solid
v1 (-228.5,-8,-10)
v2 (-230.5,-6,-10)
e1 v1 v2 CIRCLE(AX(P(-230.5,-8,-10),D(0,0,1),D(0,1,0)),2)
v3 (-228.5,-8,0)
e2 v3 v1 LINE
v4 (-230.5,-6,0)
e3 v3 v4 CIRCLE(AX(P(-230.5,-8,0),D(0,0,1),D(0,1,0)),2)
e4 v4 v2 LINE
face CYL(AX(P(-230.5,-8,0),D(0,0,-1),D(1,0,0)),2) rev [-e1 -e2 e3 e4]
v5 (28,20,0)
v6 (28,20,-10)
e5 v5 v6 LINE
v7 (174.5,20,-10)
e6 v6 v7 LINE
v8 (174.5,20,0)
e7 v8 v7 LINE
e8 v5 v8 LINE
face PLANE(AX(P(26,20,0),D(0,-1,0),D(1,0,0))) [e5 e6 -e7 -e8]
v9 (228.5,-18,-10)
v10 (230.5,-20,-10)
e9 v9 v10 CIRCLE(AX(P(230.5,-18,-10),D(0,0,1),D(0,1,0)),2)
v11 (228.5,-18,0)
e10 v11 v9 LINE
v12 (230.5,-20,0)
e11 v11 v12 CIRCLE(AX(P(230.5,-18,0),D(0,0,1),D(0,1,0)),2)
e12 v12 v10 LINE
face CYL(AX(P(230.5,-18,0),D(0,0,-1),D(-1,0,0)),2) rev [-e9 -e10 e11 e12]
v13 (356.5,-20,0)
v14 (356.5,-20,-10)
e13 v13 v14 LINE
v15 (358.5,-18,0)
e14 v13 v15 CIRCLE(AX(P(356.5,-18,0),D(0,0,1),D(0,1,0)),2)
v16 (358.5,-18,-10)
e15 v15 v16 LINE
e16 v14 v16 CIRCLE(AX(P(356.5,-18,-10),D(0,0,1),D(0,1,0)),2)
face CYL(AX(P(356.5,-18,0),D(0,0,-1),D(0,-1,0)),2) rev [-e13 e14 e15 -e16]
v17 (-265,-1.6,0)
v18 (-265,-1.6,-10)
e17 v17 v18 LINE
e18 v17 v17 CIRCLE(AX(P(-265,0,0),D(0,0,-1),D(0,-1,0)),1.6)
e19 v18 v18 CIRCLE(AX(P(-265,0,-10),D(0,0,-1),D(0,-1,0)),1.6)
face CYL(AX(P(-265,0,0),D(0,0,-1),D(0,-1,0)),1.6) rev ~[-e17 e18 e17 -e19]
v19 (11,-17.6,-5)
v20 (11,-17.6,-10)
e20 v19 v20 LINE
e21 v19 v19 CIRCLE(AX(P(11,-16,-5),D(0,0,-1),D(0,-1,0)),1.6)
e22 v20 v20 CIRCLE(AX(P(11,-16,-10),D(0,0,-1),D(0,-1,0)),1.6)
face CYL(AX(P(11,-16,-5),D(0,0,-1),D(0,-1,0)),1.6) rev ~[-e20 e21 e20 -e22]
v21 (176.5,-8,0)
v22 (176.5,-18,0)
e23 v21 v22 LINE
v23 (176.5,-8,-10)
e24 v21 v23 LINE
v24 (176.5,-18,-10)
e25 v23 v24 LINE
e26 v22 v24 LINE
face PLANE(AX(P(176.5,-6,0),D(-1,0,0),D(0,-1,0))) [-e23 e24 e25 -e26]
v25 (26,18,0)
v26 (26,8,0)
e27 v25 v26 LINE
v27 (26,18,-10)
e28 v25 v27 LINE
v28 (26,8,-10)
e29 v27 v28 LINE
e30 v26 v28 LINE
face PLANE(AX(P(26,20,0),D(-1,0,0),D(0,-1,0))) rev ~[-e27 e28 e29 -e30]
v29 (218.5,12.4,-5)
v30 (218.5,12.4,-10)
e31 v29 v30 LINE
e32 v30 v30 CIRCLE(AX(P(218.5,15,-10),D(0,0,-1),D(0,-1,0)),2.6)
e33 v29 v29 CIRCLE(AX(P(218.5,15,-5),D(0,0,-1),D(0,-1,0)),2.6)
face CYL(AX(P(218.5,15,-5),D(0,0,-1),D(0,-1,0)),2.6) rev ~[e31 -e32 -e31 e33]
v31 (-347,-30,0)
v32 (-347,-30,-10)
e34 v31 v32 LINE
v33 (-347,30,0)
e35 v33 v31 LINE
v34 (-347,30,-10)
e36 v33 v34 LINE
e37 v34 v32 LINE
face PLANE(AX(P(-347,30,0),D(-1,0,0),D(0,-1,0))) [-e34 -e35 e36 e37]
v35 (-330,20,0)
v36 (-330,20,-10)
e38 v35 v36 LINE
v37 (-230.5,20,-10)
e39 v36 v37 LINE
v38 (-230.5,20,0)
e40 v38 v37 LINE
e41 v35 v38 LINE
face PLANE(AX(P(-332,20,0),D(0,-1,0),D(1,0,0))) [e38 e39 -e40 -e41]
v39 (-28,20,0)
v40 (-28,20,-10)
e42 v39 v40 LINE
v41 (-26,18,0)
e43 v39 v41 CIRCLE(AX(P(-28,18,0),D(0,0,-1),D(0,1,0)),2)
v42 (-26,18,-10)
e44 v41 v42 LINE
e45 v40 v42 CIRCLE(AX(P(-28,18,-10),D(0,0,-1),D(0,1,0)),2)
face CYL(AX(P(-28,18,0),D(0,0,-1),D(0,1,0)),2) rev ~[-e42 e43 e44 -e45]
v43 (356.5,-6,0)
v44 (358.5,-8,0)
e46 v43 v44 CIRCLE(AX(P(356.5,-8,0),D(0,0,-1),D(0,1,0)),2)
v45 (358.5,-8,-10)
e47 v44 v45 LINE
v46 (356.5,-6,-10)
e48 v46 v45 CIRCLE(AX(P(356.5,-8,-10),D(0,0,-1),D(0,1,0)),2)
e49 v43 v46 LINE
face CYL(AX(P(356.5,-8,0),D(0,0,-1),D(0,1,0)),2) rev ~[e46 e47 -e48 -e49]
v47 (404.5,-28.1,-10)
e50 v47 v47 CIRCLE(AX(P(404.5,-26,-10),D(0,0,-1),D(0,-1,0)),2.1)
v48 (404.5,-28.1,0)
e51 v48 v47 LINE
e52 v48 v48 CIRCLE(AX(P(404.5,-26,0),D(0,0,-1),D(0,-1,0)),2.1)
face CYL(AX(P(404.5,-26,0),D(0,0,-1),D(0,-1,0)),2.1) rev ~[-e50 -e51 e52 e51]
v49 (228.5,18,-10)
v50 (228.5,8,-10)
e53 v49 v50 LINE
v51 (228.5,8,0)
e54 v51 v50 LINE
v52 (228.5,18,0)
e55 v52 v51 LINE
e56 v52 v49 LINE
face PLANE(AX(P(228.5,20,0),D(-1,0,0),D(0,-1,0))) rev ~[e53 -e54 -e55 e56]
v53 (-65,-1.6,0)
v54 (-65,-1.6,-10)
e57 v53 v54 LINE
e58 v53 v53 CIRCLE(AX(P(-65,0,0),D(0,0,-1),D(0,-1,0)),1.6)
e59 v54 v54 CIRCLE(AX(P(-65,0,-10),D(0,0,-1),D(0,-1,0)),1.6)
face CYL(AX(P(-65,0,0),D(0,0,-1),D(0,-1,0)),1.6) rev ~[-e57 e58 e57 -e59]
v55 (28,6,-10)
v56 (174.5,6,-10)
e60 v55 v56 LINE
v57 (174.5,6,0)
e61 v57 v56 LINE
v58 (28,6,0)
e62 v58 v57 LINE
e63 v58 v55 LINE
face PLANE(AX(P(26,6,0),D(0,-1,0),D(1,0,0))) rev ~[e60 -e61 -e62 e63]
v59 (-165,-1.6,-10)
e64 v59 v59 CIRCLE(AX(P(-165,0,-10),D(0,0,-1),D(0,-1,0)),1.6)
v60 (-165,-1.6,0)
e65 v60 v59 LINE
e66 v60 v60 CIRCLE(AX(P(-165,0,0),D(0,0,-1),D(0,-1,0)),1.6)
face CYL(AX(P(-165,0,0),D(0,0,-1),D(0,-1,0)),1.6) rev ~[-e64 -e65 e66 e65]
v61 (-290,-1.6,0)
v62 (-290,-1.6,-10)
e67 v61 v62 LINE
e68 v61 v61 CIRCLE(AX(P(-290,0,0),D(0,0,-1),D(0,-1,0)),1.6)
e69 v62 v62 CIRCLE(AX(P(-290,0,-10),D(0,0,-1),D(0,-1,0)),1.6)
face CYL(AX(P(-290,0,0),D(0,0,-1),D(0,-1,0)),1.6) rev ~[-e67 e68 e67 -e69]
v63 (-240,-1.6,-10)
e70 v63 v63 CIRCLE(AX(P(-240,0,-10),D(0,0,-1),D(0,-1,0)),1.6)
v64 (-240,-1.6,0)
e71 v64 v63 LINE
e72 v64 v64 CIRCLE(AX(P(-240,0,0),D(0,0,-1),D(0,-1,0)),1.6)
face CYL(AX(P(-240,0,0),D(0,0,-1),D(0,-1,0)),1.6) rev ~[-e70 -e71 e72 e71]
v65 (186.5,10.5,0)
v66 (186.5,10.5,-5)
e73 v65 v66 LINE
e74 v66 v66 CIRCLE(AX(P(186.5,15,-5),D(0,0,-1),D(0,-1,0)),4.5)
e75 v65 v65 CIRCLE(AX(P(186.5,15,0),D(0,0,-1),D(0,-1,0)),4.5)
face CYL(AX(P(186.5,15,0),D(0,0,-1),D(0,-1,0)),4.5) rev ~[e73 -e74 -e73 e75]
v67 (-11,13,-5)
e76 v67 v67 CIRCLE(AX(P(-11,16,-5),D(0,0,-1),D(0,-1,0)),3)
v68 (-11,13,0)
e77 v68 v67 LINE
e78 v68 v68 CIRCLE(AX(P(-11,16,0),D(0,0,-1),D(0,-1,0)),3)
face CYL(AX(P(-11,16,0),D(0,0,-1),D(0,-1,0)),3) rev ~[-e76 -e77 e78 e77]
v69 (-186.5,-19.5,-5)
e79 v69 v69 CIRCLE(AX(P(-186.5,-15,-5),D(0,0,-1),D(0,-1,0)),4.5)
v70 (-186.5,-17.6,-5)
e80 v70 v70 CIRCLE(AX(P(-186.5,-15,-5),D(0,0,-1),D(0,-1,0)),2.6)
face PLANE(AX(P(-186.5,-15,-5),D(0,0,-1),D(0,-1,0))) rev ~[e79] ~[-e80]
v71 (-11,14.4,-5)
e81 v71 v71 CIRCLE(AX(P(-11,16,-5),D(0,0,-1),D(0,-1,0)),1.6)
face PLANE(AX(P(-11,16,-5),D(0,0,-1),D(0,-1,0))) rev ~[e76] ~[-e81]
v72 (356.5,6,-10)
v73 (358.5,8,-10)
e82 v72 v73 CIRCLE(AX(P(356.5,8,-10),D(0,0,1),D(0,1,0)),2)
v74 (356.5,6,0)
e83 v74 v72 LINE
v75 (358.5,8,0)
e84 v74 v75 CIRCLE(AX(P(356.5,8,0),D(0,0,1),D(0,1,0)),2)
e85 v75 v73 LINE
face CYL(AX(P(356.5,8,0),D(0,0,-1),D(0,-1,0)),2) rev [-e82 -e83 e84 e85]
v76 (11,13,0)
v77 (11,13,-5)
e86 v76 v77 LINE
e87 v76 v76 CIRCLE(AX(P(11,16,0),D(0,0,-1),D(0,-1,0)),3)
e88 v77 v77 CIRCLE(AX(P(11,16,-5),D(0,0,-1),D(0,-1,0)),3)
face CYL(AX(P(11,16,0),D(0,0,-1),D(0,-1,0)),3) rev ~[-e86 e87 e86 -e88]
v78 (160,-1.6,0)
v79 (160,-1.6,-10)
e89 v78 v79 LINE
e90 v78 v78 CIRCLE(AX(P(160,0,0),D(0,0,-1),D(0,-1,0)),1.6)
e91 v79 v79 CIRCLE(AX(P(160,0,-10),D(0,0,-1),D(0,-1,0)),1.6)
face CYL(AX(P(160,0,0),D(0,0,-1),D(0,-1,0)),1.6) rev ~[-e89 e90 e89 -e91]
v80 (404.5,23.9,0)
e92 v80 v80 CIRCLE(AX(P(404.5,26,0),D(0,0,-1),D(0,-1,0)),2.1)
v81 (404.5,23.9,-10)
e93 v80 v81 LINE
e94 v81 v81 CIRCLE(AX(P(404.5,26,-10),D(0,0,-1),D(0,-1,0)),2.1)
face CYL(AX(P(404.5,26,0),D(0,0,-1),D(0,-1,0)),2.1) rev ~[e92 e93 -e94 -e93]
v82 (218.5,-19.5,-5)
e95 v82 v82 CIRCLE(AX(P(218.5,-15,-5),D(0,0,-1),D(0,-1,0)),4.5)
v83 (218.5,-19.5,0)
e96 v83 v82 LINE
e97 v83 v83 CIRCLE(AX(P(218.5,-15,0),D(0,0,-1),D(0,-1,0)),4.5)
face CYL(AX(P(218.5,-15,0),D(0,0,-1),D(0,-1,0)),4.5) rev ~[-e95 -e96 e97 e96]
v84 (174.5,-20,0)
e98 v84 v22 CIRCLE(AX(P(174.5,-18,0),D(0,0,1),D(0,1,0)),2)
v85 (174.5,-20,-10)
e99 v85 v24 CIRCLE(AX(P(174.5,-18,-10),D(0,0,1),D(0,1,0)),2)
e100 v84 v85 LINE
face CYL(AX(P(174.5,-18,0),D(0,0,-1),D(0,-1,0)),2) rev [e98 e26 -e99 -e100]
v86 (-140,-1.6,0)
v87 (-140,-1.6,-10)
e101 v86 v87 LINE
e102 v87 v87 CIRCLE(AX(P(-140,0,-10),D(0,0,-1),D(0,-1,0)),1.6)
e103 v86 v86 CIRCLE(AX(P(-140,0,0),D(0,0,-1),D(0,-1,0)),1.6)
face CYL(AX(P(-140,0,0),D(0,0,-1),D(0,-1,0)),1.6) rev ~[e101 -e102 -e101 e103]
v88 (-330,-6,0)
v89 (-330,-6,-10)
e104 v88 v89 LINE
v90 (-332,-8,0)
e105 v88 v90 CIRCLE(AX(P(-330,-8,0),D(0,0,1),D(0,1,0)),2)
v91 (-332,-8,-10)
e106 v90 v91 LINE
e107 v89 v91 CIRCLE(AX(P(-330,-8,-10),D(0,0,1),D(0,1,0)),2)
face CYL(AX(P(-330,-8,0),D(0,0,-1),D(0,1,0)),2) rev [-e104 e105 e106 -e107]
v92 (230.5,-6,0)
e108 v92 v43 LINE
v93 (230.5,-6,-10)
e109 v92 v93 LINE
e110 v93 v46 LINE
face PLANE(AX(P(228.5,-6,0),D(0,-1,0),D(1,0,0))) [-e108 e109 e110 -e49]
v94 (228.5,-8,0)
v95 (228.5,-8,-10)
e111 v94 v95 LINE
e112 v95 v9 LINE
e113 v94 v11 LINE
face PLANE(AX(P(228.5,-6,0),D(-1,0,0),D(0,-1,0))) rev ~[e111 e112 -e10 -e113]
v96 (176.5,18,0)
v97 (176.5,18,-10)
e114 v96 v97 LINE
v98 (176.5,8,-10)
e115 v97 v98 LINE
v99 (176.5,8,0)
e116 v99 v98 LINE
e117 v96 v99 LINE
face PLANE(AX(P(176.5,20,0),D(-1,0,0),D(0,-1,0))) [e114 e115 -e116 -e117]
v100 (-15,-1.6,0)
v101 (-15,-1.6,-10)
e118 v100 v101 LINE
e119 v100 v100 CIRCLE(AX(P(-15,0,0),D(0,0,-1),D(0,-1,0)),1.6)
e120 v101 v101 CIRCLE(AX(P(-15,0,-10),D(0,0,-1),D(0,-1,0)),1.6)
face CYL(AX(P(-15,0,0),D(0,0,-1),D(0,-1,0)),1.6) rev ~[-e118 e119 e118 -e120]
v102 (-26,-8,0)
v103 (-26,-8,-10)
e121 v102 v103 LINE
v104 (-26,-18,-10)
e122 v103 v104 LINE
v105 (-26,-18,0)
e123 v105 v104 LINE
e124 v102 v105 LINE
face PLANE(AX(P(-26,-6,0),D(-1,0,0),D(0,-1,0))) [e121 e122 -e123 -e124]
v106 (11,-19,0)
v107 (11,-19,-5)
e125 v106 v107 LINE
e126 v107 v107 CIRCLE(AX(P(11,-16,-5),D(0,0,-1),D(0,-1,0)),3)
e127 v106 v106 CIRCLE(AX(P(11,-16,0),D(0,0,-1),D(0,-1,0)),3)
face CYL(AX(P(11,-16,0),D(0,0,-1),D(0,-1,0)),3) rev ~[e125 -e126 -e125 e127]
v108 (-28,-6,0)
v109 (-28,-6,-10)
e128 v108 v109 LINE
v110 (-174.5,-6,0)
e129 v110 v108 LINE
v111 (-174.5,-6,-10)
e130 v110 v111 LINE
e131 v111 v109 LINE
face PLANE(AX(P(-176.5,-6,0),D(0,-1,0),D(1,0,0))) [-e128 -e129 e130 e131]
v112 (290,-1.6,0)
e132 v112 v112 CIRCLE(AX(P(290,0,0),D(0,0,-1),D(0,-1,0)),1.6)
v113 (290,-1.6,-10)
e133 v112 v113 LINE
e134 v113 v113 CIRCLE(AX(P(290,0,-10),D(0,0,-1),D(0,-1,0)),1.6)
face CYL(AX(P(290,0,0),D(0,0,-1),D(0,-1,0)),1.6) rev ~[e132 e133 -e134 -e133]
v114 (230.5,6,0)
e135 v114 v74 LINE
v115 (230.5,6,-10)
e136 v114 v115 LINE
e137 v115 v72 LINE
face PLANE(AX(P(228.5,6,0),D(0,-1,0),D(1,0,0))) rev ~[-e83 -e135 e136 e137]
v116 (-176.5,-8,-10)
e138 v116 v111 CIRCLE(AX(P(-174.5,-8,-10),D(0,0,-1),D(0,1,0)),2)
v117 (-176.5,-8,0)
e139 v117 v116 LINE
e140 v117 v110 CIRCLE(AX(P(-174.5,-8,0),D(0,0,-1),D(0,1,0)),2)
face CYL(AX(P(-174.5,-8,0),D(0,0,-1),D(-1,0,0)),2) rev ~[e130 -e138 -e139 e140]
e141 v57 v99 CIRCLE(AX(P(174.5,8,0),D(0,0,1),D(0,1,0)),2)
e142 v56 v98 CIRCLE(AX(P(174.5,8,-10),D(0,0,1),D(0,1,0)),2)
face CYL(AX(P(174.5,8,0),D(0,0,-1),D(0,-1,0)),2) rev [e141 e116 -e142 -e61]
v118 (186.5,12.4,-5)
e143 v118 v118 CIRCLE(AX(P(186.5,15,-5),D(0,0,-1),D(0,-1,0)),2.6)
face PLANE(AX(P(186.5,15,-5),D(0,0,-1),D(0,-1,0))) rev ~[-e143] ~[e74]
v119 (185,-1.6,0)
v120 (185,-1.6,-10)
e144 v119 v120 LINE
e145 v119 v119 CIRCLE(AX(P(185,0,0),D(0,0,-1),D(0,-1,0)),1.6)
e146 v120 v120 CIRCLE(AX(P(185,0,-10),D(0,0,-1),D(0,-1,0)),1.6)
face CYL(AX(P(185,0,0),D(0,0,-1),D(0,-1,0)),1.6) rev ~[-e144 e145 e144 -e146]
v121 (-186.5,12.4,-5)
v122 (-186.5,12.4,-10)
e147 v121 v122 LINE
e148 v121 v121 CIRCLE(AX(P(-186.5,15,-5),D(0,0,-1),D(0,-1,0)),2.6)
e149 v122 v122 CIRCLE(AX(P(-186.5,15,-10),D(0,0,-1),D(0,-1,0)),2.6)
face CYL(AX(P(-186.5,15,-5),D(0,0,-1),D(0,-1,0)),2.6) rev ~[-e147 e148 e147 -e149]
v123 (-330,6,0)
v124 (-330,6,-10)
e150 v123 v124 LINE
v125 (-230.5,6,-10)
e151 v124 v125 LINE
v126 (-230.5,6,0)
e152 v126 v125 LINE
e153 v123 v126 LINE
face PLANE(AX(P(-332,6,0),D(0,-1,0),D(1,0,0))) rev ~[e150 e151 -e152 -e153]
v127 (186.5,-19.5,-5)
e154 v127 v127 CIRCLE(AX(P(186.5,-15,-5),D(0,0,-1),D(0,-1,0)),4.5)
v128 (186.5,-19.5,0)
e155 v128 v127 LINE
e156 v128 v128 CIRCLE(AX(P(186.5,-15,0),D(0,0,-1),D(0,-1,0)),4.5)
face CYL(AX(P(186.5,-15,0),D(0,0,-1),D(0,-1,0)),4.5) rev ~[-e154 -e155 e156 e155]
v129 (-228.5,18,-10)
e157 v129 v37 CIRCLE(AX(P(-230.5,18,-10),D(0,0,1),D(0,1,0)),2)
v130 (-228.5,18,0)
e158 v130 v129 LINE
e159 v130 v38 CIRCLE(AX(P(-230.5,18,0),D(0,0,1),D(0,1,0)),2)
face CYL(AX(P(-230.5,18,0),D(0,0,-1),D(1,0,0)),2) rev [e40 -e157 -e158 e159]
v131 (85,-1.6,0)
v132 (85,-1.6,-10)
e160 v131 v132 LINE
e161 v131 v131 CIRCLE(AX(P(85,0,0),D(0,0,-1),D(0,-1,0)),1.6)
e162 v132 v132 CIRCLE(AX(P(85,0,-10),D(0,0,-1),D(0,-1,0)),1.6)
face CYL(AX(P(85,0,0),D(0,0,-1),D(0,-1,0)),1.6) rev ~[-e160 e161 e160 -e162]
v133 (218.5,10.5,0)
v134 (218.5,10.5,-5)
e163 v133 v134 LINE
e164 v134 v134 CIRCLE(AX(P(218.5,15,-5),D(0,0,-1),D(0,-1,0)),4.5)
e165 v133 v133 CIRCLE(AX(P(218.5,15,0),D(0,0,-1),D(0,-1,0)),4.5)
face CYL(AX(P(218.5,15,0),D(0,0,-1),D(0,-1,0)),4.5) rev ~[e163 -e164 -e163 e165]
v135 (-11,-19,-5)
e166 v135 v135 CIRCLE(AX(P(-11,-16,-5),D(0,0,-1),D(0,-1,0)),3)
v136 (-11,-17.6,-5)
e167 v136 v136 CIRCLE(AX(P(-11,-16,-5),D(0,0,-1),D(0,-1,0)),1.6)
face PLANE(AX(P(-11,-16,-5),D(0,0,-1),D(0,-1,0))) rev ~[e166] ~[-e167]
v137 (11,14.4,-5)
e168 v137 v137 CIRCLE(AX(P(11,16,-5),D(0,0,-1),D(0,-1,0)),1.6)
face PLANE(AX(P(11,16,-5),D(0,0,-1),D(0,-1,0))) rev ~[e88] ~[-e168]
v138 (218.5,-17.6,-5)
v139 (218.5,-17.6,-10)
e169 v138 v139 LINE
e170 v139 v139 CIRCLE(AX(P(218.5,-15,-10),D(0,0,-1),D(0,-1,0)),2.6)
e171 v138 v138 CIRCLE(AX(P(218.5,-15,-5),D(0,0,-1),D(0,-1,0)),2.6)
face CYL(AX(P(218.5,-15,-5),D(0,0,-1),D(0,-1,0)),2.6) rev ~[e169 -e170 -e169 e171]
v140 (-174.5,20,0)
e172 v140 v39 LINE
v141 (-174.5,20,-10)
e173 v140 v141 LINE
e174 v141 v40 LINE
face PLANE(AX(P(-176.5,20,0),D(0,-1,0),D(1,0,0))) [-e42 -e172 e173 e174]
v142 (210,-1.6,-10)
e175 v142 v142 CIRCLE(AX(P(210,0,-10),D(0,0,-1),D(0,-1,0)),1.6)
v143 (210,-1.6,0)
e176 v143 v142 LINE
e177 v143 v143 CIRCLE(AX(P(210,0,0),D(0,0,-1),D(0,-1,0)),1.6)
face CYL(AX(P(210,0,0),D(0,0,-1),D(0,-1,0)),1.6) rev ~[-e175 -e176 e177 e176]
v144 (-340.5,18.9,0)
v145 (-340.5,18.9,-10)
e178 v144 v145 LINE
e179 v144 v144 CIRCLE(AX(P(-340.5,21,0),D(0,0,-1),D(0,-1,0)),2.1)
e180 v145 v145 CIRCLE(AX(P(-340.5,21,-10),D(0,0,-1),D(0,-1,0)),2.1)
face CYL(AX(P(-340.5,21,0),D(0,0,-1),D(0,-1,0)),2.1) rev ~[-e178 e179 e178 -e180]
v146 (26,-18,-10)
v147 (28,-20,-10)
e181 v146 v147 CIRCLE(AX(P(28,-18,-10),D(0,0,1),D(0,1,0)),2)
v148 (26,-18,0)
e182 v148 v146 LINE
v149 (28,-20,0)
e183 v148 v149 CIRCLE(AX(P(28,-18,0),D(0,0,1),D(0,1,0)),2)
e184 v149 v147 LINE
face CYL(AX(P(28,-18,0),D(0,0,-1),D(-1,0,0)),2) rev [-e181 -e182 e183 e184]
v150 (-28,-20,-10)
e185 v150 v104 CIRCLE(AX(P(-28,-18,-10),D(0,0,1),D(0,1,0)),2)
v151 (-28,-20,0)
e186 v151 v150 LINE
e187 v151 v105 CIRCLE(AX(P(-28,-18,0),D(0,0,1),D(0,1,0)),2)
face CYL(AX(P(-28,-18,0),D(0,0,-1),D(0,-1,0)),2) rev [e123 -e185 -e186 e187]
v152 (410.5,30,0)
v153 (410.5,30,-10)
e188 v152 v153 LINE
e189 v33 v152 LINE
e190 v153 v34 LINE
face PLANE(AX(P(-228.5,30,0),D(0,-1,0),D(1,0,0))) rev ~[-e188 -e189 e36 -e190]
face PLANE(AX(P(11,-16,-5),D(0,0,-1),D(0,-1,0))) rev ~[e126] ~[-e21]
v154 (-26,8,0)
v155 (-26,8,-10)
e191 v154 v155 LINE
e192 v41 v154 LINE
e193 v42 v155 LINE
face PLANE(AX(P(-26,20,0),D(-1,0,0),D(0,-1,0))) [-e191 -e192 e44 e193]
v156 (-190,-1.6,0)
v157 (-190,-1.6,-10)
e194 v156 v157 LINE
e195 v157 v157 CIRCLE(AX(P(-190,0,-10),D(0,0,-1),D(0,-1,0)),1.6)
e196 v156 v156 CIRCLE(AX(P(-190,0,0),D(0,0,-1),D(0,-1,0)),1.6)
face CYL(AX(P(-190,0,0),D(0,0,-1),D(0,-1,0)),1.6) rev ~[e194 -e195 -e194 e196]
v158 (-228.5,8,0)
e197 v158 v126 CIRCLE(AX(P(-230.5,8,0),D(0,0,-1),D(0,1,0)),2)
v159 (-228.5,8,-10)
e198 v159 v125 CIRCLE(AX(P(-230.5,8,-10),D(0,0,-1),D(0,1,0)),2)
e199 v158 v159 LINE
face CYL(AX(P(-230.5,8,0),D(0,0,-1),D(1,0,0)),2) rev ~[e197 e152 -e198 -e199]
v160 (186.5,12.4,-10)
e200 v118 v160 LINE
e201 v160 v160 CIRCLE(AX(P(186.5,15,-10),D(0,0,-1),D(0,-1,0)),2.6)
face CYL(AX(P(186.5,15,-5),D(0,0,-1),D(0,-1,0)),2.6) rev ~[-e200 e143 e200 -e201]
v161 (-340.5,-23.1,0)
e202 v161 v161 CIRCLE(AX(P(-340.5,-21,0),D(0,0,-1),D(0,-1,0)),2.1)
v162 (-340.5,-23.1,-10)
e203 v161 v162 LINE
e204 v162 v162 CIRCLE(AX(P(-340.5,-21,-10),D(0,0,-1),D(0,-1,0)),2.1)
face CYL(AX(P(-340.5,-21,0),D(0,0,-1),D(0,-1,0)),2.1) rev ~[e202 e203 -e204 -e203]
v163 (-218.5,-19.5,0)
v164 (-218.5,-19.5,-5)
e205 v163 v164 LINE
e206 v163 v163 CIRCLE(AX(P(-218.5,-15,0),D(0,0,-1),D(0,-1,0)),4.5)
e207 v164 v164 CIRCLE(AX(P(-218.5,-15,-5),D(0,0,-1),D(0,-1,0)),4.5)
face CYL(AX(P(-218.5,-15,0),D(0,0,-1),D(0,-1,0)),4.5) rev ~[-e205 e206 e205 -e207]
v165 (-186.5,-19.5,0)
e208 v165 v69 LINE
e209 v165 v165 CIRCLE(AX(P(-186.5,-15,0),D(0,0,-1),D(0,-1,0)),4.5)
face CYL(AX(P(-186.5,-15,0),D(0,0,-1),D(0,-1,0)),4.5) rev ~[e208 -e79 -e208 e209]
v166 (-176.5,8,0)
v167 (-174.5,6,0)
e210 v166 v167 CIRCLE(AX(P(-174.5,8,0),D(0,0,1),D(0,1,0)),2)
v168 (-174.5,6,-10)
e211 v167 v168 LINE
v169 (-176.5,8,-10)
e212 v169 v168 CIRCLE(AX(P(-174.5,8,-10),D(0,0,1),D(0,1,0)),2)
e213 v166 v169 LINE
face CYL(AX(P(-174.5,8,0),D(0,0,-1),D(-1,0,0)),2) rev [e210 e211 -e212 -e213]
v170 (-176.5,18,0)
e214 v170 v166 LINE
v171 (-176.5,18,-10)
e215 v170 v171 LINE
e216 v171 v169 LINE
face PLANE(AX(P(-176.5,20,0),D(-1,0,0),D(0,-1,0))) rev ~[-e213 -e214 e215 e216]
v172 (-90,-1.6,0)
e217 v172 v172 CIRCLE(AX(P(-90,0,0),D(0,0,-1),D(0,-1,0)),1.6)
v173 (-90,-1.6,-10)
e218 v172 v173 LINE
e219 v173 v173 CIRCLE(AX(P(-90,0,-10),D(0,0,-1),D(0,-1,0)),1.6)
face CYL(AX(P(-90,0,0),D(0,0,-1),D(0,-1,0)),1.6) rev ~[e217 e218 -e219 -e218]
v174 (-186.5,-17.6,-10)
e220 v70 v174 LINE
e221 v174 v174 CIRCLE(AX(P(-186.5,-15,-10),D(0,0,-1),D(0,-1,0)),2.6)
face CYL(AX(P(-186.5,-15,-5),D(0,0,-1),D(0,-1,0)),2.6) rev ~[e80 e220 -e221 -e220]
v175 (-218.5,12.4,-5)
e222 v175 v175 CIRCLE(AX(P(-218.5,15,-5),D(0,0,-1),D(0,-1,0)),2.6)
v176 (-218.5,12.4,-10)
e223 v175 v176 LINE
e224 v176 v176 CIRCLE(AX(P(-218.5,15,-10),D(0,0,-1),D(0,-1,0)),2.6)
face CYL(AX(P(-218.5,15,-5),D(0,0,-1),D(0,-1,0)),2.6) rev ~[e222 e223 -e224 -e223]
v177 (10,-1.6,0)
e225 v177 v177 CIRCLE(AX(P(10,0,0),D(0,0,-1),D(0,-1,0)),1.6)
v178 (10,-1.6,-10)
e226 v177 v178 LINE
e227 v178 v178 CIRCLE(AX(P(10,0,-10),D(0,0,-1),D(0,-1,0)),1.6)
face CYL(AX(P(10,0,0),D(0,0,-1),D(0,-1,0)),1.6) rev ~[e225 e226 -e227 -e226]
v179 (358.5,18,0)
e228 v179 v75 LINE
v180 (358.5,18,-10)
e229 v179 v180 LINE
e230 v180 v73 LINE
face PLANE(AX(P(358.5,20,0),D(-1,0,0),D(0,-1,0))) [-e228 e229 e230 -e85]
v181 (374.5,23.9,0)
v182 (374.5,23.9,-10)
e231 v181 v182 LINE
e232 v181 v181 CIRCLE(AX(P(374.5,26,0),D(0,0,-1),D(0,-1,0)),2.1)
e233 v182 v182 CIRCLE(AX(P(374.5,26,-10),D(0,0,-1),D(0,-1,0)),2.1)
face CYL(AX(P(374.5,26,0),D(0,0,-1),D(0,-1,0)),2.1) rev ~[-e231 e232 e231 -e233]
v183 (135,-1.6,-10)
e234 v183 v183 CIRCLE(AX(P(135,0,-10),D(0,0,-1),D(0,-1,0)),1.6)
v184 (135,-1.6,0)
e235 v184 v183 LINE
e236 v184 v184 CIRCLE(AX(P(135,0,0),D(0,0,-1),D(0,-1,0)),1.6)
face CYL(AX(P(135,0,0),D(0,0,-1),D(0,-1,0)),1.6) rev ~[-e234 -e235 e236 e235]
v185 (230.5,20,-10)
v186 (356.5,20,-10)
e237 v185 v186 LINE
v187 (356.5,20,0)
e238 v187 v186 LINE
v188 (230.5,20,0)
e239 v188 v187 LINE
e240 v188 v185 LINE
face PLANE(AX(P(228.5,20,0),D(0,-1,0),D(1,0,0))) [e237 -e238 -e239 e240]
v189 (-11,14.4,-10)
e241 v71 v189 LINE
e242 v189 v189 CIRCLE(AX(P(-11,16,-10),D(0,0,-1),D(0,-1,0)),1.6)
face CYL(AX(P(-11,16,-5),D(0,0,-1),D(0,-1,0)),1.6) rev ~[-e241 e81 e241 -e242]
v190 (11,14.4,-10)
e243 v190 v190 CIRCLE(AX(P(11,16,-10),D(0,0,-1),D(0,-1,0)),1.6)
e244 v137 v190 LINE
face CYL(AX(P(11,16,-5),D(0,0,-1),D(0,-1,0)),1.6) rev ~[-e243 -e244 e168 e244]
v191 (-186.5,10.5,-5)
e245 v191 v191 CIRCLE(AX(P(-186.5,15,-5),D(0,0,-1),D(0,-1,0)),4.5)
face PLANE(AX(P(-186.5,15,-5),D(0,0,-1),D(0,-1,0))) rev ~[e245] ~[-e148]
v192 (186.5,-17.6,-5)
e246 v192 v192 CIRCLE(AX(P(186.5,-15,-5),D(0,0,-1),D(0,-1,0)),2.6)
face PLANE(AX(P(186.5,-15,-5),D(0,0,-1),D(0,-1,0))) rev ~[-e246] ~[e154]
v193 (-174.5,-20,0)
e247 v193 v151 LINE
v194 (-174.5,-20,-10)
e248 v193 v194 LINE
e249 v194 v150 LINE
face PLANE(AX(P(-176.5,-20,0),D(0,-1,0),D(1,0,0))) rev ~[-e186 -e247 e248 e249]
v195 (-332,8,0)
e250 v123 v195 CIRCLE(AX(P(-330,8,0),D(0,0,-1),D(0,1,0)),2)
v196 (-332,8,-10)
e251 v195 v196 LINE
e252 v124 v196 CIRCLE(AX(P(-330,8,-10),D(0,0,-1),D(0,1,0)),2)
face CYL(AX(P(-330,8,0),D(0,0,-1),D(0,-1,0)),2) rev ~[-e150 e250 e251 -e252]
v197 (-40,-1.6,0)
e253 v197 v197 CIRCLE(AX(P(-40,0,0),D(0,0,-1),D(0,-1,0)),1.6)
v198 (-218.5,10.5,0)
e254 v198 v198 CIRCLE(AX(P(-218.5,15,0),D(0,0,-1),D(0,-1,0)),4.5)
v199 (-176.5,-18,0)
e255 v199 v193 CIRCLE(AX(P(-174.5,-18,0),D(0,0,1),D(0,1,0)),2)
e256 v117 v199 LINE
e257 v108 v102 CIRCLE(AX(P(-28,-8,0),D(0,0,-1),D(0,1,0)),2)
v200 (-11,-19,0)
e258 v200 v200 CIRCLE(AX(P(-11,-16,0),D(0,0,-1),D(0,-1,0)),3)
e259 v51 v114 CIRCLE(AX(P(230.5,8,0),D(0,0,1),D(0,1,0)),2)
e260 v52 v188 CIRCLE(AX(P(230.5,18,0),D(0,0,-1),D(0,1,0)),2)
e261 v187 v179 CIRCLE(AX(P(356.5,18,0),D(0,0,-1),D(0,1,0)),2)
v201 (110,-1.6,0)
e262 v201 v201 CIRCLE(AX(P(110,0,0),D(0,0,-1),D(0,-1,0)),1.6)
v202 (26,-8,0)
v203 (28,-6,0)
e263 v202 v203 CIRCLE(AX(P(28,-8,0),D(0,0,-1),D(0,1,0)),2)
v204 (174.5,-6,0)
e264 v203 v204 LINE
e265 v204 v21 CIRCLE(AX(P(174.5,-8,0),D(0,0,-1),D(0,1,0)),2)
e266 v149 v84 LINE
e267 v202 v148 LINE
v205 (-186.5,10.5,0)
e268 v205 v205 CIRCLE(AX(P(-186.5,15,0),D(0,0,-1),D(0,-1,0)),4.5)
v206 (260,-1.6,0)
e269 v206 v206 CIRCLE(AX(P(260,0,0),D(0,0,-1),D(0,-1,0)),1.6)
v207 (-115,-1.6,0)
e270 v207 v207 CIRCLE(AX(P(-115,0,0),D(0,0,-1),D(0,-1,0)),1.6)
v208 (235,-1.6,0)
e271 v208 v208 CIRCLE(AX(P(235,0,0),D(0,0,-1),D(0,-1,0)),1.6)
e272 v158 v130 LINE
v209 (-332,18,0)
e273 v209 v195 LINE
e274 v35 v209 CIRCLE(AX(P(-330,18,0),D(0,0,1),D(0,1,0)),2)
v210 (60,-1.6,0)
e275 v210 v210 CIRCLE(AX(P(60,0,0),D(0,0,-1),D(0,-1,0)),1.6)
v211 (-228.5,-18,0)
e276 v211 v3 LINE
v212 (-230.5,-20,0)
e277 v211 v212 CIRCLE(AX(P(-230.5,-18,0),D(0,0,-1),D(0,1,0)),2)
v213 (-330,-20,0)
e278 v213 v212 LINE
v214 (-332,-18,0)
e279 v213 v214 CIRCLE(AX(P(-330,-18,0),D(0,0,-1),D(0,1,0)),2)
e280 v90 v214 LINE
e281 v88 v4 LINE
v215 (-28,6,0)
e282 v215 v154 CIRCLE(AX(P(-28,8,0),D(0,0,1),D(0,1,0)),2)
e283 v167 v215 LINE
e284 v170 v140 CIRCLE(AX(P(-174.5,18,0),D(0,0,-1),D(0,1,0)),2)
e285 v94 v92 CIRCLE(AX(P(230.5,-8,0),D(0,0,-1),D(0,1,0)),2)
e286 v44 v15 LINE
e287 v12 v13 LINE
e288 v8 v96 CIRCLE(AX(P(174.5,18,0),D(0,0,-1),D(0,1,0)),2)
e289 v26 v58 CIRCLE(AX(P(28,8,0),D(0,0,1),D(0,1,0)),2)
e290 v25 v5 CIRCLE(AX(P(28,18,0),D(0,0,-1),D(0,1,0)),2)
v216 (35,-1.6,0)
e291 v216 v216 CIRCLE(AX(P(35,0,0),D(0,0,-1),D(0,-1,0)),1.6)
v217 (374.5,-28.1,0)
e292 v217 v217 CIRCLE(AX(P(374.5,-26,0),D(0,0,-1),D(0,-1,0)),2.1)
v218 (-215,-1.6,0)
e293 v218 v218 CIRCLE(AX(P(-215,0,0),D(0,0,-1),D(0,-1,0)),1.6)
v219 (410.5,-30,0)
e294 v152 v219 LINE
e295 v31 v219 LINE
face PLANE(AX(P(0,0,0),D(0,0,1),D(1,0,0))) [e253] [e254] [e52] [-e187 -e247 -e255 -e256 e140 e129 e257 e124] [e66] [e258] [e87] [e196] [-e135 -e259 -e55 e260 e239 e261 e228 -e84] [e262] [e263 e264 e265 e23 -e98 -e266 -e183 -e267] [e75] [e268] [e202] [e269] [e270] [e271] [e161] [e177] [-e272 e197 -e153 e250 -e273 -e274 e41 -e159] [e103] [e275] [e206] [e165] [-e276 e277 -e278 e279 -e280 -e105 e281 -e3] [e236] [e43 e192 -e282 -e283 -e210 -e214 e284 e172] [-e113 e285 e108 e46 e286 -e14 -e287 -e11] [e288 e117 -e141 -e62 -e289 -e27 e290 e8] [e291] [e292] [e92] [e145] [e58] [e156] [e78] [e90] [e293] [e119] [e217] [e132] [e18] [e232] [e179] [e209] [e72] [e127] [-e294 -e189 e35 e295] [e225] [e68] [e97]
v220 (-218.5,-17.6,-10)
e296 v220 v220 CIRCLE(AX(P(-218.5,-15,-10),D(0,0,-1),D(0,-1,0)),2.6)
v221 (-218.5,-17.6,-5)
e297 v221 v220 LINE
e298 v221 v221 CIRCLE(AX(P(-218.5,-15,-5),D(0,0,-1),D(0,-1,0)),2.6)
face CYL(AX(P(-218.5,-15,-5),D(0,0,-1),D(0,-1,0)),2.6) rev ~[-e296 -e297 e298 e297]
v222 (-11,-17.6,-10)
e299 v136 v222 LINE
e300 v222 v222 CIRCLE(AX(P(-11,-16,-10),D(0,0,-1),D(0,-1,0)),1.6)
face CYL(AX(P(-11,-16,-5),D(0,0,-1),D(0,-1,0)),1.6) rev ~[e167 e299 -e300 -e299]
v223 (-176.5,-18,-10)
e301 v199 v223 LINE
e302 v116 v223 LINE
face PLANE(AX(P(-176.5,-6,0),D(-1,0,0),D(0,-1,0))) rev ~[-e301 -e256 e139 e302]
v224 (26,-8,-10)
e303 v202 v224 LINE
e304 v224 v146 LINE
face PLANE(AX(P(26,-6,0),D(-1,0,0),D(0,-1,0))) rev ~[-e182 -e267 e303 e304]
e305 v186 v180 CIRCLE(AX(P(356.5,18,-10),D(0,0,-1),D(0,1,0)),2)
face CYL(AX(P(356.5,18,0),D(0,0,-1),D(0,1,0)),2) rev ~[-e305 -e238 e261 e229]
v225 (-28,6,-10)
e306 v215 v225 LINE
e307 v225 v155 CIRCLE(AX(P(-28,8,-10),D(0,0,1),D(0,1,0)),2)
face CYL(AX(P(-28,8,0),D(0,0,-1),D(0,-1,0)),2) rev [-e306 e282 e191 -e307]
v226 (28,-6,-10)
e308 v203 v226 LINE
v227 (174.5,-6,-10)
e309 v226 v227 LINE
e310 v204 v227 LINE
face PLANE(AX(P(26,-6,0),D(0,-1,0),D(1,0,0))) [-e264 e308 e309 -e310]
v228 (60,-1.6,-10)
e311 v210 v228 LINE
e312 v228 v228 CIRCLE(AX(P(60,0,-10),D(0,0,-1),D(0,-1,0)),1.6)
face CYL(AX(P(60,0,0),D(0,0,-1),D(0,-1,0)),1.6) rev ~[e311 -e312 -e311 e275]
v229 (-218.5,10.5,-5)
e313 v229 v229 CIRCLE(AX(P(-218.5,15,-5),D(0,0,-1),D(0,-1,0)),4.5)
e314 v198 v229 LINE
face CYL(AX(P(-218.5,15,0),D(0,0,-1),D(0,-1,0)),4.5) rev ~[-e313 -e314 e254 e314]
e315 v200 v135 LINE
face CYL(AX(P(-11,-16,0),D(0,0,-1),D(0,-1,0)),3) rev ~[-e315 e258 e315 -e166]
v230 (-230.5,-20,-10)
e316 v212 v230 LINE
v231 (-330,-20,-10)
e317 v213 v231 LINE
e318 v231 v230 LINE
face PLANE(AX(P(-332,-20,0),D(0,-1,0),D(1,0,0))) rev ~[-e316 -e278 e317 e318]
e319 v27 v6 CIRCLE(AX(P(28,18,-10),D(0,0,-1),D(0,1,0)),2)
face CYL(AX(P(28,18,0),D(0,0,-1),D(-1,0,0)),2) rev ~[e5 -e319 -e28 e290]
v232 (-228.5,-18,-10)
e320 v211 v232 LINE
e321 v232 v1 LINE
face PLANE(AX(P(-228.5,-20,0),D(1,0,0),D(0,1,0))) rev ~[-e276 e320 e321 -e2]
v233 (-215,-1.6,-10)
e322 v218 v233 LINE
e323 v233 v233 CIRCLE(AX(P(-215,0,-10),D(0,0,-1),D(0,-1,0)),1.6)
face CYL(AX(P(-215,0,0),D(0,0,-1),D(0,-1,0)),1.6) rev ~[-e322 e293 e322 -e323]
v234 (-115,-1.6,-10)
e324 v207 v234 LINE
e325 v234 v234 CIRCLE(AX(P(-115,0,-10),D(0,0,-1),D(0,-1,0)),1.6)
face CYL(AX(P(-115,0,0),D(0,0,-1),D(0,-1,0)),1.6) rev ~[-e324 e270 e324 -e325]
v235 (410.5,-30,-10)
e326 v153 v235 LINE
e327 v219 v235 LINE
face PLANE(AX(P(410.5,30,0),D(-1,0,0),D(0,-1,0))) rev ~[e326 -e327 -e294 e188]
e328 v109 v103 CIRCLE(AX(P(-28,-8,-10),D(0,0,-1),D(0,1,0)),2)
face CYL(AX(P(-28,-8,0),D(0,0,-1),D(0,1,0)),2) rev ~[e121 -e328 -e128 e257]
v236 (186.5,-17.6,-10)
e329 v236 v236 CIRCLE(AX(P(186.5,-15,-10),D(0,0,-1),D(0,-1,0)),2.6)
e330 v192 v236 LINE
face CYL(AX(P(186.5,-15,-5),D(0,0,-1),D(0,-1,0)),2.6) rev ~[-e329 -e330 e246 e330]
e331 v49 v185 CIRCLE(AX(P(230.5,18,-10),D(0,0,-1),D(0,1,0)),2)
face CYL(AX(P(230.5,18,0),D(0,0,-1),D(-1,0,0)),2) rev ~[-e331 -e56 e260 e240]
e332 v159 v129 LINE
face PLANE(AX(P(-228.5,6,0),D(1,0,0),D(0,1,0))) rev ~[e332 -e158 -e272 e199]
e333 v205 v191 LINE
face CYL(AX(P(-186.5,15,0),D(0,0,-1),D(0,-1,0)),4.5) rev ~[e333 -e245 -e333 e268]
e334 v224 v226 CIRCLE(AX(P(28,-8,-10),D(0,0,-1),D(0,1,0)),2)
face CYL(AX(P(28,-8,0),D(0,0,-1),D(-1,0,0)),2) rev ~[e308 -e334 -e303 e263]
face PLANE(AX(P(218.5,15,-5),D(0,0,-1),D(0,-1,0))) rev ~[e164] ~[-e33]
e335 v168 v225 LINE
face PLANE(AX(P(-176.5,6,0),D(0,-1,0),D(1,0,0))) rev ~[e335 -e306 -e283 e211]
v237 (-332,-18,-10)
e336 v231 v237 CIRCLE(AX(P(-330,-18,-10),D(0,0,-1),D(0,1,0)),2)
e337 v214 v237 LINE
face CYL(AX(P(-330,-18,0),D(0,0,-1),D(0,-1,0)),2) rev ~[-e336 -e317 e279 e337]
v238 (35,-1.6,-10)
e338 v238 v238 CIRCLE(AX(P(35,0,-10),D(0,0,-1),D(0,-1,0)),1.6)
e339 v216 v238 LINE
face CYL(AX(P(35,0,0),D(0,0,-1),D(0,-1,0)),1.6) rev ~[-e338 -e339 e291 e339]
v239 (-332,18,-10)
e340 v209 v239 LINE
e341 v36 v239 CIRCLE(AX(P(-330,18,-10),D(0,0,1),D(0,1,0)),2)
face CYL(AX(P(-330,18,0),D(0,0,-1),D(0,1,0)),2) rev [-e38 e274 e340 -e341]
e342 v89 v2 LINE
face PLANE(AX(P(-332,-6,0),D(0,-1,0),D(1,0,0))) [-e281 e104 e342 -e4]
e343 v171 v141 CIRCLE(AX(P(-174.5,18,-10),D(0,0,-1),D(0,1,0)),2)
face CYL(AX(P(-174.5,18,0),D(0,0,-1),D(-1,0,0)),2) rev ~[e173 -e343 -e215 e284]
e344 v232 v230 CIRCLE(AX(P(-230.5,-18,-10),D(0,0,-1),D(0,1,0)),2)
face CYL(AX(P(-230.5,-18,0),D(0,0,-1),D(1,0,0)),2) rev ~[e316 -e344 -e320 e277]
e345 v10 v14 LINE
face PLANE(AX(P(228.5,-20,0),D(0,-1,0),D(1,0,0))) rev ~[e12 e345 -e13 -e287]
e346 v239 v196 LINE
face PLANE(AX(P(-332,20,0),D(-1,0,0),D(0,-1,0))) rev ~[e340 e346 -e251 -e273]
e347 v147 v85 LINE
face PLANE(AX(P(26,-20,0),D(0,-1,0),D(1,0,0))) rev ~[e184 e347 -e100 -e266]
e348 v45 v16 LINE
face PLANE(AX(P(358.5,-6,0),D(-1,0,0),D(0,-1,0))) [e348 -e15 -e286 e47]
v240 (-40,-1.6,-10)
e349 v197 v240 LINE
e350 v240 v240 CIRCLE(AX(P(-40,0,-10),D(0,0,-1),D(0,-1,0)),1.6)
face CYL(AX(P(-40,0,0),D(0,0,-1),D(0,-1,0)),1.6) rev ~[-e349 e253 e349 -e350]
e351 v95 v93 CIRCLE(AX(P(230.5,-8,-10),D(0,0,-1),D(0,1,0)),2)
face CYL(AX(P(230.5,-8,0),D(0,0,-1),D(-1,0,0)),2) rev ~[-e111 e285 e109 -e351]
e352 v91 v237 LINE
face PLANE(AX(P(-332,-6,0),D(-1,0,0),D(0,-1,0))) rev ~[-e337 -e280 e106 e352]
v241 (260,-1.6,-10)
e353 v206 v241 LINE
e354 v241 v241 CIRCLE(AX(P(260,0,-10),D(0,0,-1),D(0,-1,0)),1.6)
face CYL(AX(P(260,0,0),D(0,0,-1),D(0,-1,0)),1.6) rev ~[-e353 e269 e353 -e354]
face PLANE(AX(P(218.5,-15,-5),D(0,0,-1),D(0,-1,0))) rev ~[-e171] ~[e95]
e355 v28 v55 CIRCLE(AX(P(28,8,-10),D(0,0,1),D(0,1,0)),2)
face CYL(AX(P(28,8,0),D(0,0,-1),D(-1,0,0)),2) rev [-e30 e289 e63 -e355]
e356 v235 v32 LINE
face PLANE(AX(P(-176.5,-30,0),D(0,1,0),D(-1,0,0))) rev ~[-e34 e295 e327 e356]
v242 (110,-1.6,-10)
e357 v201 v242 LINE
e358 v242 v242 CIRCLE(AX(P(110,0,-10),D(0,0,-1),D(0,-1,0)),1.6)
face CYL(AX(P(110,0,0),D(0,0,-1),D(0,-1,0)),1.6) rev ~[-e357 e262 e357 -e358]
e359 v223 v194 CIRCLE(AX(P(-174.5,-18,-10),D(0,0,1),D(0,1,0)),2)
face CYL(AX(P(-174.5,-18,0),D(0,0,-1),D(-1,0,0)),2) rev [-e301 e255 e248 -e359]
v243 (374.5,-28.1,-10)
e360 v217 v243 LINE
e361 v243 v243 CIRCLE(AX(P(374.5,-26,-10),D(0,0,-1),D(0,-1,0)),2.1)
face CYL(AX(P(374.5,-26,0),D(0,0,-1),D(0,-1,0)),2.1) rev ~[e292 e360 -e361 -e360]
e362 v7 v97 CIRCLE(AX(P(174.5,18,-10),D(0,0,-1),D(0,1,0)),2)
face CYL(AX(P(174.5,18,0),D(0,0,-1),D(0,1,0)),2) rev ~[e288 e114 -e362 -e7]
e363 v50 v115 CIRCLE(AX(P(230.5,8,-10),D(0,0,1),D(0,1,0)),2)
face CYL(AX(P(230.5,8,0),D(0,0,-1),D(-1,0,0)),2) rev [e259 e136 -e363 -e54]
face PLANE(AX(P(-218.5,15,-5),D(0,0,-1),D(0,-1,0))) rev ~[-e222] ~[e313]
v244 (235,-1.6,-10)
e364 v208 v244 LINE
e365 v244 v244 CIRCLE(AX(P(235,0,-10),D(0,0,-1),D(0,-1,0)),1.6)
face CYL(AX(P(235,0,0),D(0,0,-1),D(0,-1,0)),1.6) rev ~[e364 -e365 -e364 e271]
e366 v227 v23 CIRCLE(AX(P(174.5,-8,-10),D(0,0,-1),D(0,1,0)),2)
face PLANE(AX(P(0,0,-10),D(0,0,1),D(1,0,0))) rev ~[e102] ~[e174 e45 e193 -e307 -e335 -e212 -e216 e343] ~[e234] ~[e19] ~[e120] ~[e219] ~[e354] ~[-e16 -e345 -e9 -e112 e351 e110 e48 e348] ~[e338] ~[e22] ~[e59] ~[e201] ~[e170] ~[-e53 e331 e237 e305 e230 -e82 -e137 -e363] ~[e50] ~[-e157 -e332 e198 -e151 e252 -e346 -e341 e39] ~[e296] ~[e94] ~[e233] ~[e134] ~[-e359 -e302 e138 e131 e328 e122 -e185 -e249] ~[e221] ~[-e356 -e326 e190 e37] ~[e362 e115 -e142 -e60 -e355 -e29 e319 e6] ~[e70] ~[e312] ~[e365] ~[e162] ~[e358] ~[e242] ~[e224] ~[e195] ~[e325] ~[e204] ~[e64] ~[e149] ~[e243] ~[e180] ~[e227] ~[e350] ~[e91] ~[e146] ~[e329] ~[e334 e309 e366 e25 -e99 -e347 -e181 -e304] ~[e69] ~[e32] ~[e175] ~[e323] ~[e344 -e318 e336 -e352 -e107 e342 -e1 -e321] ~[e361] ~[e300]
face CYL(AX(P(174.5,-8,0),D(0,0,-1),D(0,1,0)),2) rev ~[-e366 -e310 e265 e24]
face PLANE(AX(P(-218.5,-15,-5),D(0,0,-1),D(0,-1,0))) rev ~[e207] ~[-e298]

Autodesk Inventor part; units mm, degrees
ref_plane "YZ Plane" through (0, 0, 0) normal (1, 0, 0) x (0, 1, 0)
ref_plane "XZ Plane" through (0, 0, 0) normal (0, 1, 0) x (-1, 0, 0)
ref_plane "XY Plane" through (0, 0, 0) normal (0, 0, 1) x (1, 0, 0)
sketch "Sketch1" plane through (0, 0, 0) normal (0, 0, 1) x (1, 0, 0)
  line L0 (-228.5, 30) -> (228.5, 30)
  line L1 (228.5, 30) -> (228.5, -30)
  line L2 (228.5, -30) -> (-228.5, -30)
  line L3 (-228.5, -30) -> (-228.5, 30)
  line L4 (0, 30) -> (0, -30) construction
  line L5 (-202.5, 30) -> (-202.5, -30) construction
  line L6 (202.5, 30) -> (202.5, -30) construction
  line L7 (-176.5, 30) -> (-176.5, -30)
  line L8 (176.5, 30) -> (176.5, -30)
  line L9 (228.5, 0) -> (-228.5, 0) construction
  line L10 (-26, 30) -> (-26, -30)
  line L11 (26, 30) -> (26, -30)
  line L12 (-228.5, 30) -> (-347, 30)
  line L13 (-347, 30) -> (-347, -30)
  line L14 (-347, -30) -> (-228.5, -30)
  line L15 (-332, 30) -> (-332, -30)
  line L16 (228.5, 30) -> (410.5, 30)
  line L17 (410.5, 30) -> (410.5, -30)
  line L18 (410.5, -30) -> (228.5, -30)
  line L19 (358.5, 30) -> (358.5, -30)
  line L20 (332, 30) -> (332, -30) construction
  line L21 (-332, 20) -> (-228.5, 20)
  line L22 (-176.5, 20) -> (-26, 20)
  line L23 (26, 20) -> (176.5, 20)
  line L24 (228.5, 20) -> (358.5, 20)
  line L25 (-332, -20) -> (-228.5, -20)
  line L26 (-176.5, -20) -> (-26, -20)
  line L27 (26, -20) -> (176.5, -20)
  line L28 (228.5, -20) -> (358.5, -20)
  line L29 (-332, 6) -> (-228.5, 6)
  line L30 (-176.5, 6) -> (-26, 6)
  line L31 (26, 6) -> (176.5, 6)
  line L32 (228.5, 6) -> (358.5, 6)
  line L33 (-332, -6) -> (-228.5, -6)
  line L34 (-176.5, -6) -> (-26, -6)
  line L35 (26, -6) -> (176.5, -6)
  line L36 (228.5, -6) -> (358.5, -6)
  line L37 (-228.5, 0) -> (-347, 0) construction
  line L38 (228.5, 0) -> (410.5, 0) construction
  line L39 (384.5, 30) -> (384.5, -30) construction
  line L40 (-339.5, 30) -> (-339.5, -30) construction
  circle A0 centre (404.5, 26) radius 2.1
  circle A1 centre (374.5, 26) radius 2.1
  circle A2 centre (374.5, -26) radius 2.1
  circle A3 centre (404.5, -26) radius 2.1
  circle A4 centre (-340.5, 21) radius 2.1
  circle A5 centre (-340.5, -21) radius 2.1
  line L41 (-300, 6) -> (-300, -6) construction
  line L42 (300, 6) -> (300, -6) construction
  circle A6 centre (-290, 0) radius 1.6
  point P0 (0, 0)
  point P1 (0, 0)
  point P2 (-218.5, 15)
  point P3 (-186.5, 15)
  point P4 (-186.5, -15)
  point P5 (-218.5, -15)
  point P6 (186.5, 15)
  point P7 (218.5, 15)
  point P8 (218.5, -15)
  point P9 (186.5, -15)
  point P10 (-11, 16)
  point P11 (11, 16)
  point P12 (11, -16)
  point P13 (-11, -16)
  point P14 (-290, 0)
  point P15 (-265, 0)
  point P16 (-240, 0)
  point P17 (-215, 0)
  point P18 (-190, 0)
  point P19 (-165, 0)
  point P20 (-140, 0)
  point P21 (-115, 0)
  point P22 (-90, 0)
  point P23 (-65, 0)
  point P24 (-40, 0)
  point P25 (-15, 0)
  point P26 (10, 0)
  point P27 (35, 0)
  point P28 (60, 0)
  point P29 (85, 0)
  point P30 (110, 0)
  point P31 (135, 0)
  point P32 (160, 0)
  point P33 (185, 0)
  point P34 (210, 0)
  point P35 (235, 0)
  point P36 (260, 0)
  point P37 (290, 0)
  dimension "d39" = 405
  dimension "d42" = 52
  dimension "d43" = 30
  dimension "d44" = 32
  dimension "d45" = 32
  dimension "d46" = 30
  dimension "d52" = 52
  dimension "d53" = 15
  dimension "d54" = 60
  dimension "d56" = 52
  dimension "d57" = 78.5
  dimension "d60" = 10
  dimension "d61" = 10
  dimension "d62" = 12
  dimension "d74" = 4.2
  dimension "d78" = 4
  dimension "d79" = 6
  dimension "d80" = 30
  dimension "d81" = 4
  dimension "d82" = 4.2
  dimension "d83" = 6.5
  dimension "d84" = 9
  dimension "d93" = 32
  dimension "d94" = 22
  dimension "d131" = 600
  dimension "d132" = 10
  dimension "d135" = 25
  dimension "d140" = 10
  dimension "d141" = 3.2
  dimension "d142" = 32
  dimension "d143" = 32
extrude "Extrusion2" add sketch "Sketch1" against normal blind 10 contours L0 L7 L2 L3 | L3 L21 L15 L12 | L0 L10 L22 L7 | L15 L14 L13 L12 | L0 L11 L2 L10 | L3 L33 L15 L29 | L0 L8 L23 L11 | L30 L10 L34 L7 | L0 L1 L2 L8 | L3 L14 L15 L25 | L16 L19 L24 L1 | L31 L8 L35 L11 | L26 L10 L2 L7 | L16 L17 L18 L19 | L32 L19 L36 L1 | L27 L8 L2 L11 | L28 L19 L18 L1 | A0 | A1 | A2 | A3 | A4 | A5 | A6
hole "Hole2" at (-218.5, 15, 0) at (-186.5, 15, 0) at (-186.5, -15, 0) at (-218.5, -15, 0) at (186.5, 15, 0) at (218.5, 15, 0) at (218.5, -15, 0) at (186.5, -15, 0) direction (0, 0, -1) diameter 5.2 end through all counterbore diameter 9 counterbore depth 5
hole "Hole3" at (-340.5, 21, 0) at (-340.5, -21, 0) at (374.5, 26, 0) at (404.5, 26, 0) at (404.5, -26, 0) at (374.5, -26, 0) direction (0, 0, -1) diameter 4.2 end through all
hole "Hole4" at (-11, 16, 0) at (11, 16, 0) at (11, -16, 0) at (-11, -16, 0) direction (0, 0, -1) diameter 3.2 end through all counterbore diameter 6 counterbore depth 5
hole "Hole6" at (-290, 0, 0) at (-265, 0, 0) at (-240, 0, 0) at (-215, 0, 0) at (-190, 0, 0) at (-165, 0, 0) at (-140, 0, 0) at (-115, 0, 0) at (-90, 0, 0) at (-65, 0, 0) at (-40, 0, 0) at (-15, 0, 0) at (10, 0, 0) at (35, 0, 0) at (60, 0, 0) at (85, 0, 0) at (110, 0, 0) at (135, 0, 0) at (160, 0, 0) at (185, 0, 0) at (210, 0, 0) at (235, 0, 0) at (260, 0, 0) at (290, 0, 0) direction (0, 0, -1) diameter 3.2 depth 20
fillet "Fillet1" radius 2 32 edges at (-332, 6, -5) (-332, -20, -5) (-176.5, 6, -5) (-176.5, -20, -5) (26, 6, -5) (26, -20, -5) (228.5, 6, -5) (228.5, -20, -5) (228.5, 20, -5) (228.5, -6, -5) (26, 20, -5) (26, -6, -5) (-176.5, -6, -5) (-176.5, 20, -5) (-332, 20, -5) (-332, -6, -5) (-228.5, 20, -5) (-228.5, -6, -5) (-26, 20, -5) (-26, -6, -5) (176.5, 20, -5) (176.5, -6, -5) (358.5, 20, -5) (358.5, -6, -5) (358.5, 6, -5) (358.5, -20, -5) (176.5, 6, -5) (176.5, -20, -5) (-26, 6, -5) (-26, -20, -5) (-228.5, 6, -5) (-228.5, -20, -5)
equation "\"d39\" = dist_rails"
equation "\"d42\" = bracket_width"
equation "\"dist_rails\" = 405"
equation "\"bracket_width\" = 52"
properties part number "z_plate" material "Aluminum 6061"
